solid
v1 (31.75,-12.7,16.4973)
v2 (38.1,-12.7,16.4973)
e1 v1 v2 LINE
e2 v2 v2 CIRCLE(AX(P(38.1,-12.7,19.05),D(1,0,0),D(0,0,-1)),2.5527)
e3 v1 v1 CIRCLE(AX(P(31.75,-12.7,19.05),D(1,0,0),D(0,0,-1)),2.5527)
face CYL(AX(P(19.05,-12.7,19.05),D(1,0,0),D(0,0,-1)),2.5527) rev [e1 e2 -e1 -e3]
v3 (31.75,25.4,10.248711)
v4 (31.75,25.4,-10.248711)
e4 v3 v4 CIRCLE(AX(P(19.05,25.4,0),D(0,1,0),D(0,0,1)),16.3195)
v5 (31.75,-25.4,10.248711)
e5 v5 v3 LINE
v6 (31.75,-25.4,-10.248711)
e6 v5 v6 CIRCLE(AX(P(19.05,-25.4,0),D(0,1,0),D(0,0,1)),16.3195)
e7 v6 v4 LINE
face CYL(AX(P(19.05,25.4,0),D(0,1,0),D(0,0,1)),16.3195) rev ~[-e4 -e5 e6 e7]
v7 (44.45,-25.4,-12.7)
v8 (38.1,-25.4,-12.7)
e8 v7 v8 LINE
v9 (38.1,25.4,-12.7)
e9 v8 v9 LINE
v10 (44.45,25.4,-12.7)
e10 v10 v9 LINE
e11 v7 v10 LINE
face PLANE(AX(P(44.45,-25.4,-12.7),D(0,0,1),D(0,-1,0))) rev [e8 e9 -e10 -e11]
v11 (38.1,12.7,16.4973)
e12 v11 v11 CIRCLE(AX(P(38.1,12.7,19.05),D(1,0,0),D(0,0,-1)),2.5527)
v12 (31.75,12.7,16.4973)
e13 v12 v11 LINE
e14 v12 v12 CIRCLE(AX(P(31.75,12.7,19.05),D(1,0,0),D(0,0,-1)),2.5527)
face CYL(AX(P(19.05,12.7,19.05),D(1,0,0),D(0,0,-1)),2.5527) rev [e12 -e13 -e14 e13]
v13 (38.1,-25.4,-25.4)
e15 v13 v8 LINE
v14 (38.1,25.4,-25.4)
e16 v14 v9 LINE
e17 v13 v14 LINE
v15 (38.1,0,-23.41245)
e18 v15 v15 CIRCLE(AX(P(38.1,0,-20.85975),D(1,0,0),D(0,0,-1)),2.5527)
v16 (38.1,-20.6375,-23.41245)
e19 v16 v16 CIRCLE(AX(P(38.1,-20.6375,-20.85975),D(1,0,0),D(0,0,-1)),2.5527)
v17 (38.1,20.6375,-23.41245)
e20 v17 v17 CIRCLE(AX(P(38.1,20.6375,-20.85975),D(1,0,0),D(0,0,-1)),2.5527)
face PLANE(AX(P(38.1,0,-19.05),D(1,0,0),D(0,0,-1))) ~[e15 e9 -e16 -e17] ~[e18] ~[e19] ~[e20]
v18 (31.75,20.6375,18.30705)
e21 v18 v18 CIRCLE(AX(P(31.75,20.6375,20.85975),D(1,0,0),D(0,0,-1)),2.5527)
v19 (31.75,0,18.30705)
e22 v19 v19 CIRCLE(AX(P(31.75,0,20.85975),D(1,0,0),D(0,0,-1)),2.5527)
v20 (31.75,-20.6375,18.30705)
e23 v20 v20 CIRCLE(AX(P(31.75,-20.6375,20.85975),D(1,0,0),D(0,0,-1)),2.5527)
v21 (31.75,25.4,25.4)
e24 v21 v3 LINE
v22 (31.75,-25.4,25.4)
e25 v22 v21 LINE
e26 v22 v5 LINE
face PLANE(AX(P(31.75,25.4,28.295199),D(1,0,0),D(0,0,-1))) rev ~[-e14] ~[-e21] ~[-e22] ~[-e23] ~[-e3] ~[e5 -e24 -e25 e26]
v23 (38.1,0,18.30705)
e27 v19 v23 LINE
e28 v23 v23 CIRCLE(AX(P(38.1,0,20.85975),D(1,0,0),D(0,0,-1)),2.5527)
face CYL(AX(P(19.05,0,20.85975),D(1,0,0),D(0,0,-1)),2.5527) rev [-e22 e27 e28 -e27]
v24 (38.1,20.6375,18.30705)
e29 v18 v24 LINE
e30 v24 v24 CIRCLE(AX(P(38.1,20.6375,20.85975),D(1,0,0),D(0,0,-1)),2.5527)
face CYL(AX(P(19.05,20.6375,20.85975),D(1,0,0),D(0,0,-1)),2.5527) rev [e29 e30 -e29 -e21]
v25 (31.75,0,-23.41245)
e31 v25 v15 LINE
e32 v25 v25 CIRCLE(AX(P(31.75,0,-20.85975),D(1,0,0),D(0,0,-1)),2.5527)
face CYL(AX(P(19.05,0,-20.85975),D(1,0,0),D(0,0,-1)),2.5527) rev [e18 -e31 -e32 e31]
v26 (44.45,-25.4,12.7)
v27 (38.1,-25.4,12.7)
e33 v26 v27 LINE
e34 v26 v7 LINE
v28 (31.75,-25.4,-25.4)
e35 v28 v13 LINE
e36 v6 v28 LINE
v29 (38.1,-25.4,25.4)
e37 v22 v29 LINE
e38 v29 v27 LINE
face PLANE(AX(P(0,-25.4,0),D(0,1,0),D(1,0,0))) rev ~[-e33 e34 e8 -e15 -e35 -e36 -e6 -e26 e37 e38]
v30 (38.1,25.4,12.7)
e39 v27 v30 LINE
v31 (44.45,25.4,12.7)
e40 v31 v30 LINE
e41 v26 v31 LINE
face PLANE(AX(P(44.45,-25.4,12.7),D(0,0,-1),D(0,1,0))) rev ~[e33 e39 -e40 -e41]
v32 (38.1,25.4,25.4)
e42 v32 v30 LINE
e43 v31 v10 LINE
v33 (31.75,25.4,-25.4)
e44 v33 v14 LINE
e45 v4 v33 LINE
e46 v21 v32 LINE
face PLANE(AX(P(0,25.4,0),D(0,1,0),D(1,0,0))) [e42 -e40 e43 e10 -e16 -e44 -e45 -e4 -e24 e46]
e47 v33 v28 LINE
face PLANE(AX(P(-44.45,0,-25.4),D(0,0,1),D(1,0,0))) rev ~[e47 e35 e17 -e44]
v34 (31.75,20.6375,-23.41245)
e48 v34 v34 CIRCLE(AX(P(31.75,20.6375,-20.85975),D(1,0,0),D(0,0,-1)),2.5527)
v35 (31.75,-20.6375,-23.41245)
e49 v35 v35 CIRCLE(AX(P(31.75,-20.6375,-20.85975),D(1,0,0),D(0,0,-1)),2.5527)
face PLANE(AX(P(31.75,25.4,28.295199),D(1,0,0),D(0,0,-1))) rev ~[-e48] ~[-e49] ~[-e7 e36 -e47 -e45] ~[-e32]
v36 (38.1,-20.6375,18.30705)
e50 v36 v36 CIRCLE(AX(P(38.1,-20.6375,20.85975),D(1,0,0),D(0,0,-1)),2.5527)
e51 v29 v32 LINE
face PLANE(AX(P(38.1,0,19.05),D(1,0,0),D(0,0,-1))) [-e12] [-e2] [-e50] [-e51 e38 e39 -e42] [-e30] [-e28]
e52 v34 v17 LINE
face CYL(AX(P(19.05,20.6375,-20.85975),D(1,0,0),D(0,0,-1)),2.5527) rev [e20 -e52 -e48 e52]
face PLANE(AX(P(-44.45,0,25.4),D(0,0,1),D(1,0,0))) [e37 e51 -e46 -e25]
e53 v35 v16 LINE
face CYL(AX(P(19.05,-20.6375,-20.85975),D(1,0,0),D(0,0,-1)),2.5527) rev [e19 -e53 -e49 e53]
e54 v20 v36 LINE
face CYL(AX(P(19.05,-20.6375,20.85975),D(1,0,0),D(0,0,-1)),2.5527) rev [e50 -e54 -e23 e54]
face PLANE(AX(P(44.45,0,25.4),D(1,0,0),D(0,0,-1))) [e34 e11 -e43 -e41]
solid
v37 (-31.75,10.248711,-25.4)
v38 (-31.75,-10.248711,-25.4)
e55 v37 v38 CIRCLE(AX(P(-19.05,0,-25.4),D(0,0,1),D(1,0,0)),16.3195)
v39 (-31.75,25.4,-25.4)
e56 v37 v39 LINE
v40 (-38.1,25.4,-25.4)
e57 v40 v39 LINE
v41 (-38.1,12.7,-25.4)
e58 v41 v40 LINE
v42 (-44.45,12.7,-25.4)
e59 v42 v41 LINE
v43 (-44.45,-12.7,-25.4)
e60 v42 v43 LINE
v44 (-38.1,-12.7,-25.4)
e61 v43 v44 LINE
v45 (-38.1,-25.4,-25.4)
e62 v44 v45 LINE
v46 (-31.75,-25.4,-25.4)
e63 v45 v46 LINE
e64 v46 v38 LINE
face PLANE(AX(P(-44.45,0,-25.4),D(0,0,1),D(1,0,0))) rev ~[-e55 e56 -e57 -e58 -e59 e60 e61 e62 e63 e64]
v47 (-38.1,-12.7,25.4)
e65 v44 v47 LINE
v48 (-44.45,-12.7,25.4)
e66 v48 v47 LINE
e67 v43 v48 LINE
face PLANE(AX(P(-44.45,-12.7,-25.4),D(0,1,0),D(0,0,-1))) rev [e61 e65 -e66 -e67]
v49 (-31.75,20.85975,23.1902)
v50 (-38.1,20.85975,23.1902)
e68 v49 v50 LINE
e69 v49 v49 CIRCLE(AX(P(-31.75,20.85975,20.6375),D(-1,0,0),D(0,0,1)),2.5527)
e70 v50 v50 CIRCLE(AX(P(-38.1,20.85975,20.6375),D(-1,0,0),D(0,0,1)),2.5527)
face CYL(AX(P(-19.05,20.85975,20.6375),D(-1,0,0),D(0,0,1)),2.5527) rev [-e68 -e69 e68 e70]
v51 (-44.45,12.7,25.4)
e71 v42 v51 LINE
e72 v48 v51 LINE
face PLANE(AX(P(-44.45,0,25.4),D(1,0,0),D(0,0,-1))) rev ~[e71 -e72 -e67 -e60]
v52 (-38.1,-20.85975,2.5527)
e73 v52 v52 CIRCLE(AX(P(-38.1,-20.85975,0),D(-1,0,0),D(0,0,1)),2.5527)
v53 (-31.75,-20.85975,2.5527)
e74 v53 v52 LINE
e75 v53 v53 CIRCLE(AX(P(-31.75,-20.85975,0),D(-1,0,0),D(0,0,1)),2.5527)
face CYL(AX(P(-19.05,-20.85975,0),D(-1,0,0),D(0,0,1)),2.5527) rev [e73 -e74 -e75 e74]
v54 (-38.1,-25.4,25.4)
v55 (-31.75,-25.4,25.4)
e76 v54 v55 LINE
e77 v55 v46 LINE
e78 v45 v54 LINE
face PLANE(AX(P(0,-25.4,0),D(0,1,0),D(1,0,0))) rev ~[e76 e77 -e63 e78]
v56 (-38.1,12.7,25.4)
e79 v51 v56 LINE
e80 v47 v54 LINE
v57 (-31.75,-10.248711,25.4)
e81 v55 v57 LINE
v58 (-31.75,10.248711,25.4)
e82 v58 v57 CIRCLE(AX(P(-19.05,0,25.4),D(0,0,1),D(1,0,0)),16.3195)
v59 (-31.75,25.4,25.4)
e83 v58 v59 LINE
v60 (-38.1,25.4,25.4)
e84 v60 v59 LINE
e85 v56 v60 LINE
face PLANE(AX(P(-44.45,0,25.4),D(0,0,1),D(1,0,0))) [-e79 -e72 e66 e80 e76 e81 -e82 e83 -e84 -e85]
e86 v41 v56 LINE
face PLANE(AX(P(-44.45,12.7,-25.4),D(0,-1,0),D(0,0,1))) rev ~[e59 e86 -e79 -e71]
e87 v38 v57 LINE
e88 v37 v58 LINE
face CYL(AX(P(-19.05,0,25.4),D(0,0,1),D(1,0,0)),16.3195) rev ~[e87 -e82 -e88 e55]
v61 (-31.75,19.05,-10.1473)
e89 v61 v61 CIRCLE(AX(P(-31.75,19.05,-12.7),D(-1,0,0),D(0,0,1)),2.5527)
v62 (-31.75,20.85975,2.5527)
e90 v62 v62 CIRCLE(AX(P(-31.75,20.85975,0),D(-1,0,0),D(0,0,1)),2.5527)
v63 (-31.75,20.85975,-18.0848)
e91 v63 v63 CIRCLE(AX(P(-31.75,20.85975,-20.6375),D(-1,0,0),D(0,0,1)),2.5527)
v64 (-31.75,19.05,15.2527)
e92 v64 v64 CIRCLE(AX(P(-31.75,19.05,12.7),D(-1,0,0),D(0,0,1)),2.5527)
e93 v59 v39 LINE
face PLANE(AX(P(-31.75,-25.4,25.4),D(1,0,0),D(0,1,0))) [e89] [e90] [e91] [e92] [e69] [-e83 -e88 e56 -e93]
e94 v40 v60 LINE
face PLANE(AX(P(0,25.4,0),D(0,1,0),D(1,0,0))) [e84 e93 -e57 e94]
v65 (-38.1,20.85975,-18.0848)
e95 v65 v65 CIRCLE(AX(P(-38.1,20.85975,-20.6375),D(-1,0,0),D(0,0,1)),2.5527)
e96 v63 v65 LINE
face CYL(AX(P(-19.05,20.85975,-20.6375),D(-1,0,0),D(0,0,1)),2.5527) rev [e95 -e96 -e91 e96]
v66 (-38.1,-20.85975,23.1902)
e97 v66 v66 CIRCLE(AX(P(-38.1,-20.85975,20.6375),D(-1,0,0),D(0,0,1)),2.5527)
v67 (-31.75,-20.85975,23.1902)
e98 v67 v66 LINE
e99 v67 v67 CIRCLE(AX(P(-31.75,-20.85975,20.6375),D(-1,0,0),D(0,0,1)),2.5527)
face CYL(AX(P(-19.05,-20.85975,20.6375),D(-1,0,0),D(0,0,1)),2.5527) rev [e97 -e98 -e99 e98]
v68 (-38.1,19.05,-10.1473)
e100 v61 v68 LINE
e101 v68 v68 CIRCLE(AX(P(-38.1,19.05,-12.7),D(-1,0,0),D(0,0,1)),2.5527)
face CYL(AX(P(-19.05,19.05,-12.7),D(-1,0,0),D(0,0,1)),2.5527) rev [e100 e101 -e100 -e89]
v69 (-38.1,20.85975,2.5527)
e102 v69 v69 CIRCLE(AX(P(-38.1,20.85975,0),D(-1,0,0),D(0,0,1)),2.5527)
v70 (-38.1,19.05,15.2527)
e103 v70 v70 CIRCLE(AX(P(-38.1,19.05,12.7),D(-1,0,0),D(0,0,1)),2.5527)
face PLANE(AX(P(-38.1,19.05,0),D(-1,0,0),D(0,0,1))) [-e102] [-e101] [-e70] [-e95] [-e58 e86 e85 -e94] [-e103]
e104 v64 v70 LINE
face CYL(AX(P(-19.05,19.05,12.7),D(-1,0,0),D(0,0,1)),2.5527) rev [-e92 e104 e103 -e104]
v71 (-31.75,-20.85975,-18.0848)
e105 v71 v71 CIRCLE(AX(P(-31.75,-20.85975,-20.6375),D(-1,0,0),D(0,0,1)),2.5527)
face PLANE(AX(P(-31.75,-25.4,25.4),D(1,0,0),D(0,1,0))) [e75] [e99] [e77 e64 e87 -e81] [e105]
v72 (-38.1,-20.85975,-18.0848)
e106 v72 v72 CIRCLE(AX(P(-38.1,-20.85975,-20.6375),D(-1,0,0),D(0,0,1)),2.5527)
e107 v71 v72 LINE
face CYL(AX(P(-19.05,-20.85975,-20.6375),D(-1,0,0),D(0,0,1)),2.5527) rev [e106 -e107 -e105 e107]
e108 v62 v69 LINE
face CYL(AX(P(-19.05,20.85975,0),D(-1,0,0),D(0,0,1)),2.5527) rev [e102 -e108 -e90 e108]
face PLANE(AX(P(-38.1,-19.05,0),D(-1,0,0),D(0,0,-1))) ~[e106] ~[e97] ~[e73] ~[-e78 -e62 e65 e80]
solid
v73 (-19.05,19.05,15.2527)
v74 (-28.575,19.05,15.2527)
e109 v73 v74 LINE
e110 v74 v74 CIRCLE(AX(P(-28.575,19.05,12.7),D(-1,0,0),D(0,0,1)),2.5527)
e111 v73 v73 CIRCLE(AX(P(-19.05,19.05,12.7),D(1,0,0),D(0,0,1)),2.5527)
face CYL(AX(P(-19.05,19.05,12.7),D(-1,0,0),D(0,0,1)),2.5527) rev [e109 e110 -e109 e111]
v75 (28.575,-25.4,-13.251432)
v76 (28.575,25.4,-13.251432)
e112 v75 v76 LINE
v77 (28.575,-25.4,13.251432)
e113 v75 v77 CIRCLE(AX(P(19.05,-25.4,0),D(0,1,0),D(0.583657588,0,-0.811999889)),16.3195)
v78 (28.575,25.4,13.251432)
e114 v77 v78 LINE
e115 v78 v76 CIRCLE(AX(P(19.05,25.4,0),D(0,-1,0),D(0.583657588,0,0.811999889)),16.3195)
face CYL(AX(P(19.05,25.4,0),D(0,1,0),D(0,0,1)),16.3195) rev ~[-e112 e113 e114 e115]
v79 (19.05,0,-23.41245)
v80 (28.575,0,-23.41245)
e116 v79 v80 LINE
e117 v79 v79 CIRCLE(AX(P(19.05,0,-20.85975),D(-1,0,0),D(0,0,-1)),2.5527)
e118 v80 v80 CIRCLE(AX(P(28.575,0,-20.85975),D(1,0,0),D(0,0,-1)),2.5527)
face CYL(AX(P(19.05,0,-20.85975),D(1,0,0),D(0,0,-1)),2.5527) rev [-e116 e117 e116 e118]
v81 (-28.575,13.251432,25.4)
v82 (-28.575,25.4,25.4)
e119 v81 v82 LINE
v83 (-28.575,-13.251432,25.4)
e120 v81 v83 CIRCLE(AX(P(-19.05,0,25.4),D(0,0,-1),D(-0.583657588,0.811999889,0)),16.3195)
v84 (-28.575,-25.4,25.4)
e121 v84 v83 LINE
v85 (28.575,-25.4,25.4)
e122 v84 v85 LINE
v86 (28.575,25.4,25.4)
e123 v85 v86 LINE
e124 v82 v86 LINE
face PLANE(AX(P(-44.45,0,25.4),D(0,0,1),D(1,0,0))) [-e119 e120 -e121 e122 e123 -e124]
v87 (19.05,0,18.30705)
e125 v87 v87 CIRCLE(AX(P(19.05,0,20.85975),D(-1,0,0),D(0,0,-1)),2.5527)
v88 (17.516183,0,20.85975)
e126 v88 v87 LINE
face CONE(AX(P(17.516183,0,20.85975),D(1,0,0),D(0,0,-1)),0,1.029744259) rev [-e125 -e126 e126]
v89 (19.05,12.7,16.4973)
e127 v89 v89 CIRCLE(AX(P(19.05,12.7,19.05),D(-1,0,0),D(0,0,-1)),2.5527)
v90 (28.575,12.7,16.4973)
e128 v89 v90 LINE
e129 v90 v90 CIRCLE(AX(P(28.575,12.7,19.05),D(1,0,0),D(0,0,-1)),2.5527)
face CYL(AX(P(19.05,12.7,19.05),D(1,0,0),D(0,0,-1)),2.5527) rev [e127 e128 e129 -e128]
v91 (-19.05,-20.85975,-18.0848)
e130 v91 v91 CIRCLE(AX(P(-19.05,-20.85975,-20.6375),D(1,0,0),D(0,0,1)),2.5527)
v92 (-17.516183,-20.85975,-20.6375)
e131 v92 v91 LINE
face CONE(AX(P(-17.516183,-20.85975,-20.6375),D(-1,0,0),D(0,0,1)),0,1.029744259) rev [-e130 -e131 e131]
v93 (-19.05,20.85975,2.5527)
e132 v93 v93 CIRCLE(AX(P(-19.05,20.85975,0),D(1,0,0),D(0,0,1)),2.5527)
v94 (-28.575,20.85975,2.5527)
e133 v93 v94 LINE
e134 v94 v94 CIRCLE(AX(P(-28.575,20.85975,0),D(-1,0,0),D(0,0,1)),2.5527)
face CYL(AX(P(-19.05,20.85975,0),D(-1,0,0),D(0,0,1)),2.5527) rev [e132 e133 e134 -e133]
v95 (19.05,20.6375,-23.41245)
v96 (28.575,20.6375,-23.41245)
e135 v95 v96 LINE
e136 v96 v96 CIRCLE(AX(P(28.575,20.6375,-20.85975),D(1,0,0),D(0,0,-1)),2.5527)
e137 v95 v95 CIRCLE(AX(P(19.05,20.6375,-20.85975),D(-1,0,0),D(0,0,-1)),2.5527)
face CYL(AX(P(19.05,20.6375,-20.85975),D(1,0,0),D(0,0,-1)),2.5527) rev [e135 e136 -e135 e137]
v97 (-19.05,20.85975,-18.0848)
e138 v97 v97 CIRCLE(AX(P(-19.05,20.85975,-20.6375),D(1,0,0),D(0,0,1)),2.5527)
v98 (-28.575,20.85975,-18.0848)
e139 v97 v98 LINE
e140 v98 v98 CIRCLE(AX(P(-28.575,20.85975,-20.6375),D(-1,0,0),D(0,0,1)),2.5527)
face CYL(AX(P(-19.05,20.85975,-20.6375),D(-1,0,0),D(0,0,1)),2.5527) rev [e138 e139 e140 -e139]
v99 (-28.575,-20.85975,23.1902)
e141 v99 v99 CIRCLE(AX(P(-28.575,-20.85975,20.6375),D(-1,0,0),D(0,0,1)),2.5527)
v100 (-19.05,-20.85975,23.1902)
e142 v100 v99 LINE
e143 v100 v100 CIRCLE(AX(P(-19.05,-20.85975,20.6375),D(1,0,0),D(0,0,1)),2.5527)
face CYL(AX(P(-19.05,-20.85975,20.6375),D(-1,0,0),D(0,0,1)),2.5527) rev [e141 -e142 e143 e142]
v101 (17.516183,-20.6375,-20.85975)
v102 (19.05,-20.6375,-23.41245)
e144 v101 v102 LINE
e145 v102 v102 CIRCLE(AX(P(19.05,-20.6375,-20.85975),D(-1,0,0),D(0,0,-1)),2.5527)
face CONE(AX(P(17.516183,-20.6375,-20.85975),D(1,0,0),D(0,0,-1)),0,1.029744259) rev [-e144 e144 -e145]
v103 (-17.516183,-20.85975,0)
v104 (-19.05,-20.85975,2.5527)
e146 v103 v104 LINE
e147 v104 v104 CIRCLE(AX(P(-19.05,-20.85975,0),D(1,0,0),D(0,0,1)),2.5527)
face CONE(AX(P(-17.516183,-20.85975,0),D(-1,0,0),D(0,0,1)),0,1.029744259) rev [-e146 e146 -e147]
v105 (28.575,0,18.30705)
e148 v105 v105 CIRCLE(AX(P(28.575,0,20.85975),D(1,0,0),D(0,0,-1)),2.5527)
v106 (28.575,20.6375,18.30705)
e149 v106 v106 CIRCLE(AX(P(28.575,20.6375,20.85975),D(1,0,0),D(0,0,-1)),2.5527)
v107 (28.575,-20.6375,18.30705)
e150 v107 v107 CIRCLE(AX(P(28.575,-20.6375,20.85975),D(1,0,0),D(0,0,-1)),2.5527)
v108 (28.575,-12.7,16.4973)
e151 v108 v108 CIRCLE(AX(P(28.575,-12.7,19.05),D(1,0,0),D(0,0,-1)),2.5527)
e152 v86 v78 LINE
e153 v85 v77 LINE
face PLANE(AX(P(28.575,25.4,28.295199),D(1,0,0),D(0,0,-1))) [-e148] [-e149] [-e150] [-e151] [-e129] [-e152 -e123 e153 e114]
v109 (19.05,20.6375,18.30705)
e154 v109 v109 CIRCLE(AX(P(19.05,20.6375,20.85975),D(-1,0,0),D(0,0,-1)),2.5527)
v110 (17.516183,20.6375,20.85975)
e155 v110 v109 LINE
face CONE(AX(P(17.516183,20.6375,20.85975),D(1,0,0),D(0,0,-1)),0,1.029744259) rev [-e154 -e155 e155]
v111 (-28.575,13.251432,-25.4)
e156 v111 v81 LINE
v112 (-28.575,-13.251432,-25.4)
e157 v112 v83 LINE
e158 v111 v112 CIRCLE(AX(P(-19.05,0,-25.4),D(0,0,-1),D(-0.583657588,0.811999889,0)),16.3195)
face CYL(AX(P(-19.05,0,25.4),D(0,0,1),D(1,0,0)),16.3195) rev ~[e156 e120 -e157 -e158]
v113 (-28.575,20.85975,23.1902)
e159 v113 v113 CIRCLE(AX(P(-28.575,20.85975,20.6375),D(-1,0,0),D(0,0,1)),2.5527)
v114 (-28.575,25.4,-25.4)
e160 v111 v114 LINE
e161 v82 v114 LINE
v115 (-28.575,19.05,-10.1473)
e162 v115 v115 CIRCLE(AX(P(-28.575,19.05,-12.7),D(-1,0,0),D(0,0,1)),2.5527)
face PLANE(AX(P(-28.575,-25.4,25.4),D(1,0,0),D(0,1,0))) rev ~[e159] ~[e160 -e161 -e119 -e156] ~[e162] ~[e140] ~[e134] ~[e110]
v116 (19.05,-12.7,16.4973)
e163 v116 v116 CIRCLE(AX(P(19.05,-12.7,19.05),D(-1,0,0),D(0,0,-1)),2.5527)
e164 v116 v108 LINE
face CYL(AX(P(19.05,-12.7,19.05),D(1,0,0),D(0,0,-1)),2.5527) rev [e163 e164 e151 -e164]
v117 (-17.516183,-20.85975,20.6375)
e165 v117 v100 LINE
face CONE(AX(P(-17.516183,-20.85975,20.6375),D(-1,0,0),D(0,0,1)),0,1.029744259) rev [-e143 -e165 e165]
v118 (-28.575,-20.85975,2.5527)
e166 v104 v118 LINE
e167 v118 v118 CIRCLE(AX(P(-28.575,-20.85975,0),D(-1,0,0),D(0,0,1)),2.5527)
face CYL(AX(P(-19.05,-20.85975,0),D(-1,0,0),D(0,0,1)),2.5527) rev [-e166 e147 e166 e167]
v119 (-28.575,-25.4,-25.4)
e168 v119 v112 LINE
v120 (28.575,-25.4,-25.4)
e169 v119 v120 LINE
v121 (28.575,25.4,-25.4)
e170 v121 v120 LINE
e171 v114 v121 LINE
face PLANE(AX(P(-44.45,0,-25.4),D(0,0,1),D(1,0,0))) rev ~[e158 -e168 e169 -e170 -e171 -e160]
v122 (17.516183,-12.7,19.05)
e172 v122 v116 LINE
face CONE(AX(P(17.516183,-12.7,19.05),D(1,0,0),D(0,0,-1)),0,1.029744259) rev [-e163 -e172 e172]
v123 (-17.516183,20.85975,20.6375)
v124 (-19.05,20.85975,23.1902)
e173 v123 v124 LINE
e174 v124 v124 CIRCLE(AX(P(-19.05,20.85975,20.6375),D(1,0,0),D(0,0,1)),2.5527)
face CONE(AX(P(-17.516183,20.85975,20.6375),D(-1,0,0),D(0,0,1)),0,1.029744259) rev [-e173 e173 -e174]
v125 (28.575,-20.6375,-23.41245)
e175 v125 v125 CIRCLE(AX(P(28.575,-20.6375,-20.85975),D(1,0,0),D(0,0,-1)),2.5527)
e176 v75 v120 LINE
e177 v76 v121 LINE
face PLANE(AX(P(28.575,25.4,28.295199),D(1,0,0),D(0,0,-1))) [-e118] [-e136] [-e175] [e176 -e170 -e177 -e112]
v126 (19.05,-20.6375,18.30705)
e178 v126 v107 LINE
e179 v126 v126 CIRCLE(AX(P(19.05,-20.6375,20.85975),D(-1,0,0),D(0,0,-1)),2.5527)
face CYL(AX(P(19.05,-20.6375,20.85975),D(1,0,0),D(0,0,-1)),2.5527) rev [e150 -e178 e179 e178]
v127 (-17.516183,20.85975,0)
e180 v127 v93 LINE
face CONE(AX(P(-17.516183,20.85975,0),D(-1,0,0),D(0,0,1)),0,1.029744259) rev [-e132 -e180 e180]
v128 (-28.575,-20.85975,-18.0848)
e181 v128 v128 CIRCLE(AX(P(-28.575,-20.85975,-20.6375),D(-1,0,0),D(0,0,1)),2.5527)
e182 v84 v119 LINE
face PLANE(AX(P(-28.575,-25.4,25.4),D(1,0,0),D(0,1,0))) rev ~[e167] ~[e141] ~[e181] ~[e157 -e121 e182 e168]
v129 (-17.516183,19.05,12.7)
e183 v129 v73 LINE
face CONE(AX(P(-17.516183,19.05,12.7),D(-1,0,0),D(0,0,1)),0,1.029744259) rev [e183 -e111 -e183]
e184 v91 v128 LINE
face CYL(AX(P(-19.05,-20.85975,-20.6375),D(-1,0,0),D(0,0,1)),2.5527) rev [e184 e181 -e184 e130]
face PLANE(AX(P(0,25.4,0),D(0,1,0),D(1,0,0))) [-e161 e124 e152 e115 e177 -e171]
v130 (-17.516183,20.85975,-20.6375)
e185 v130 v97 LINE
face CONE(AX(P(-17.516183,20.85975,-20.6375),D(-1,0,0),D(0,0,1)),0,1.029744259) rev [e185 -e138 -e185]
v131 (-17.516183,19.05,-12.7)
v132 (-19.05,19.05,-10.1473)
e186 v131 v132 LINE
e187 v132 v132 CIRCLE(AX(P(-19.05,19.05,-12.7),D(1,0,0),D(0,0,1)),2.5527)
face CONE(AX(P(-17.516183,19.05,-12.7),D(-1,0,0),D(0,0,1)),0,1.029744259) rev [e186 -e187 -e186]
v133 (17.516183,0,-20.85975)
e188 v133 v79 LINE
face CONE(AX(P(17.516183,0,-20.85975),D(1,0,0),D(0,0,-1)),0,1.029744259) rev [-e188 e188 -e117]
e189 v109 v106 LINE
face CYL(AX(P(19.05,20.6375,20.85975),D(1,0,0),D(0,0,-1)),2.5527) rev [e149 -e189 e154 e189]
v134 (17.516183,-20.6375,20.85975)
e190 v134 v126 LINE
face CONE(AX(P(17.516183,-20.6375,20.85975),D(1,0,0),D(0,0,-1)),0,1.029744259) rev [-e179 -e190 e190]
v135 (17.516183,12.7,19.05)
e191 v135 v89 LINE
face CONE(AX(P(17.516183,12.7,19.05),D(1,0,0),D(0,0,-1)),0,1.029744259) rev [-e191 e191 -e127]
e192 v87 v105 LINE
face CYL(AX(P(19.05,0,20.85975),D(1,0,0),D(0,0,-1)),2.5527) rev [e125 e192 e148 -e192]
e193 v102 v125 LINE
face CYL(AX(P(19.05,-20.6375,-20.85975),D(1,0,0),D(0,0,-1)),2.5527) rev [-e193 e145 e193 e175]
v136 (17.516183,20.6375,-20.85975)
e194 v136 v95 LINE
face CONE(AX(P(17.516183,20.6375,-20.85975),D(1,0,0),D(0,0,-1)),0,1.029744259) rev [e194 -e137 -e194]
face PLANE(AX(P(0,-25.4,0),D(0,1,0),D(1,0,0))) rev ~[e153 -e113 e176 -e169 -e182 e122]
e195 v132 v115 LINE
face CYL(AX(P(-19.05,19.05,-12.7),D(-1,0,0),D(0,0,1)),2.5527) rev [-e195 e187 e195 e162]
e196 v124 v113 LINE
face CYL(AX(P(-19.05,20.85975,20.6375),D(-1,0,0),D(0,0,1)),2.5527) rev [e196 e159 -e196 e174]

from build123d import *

# Parameters (mm, degrees)
SKETCH1_W                        = 88.9
SKETCH1_H                        = 50.8
BOSS_EXTRUDE1_DEPTH              = 25.4
CUT_EXTRUDE1_REACH               = 74.122
SKETCH2_R                        = 16.3195
SKETCH3_W                        = 3.175
SKETCH3_H                        = 53.695199427
CUT_EXTRUDE4_DEPTH               = 50.8
F_1_4_20_TAPPED_HOLE1_AT_2_COUNT = 2
F_1_4_20_TAPPED_HOLE1_AT_2_PITCH = 41.275
F_1_4_20_TAPPED_HOLE1_AT_3_COUNT = 2
F_1_4_20_TAPPED_HOLE1_AT_3_PITCH = 20.6375
SKETCH7_R                        = 16.3195
CUT_EXTRUDE5_DEPTH               = 50.8
SKETCH8_W                        = 3.175
SKETCH8_H                        = 56.745553367
CUT_EXTRUDE6_DEPTH               = 50.8
F_1_4_20_TAPPED_HOLE2_AT_2_COUNT = 2
F_1_4_20_TAPPED_HOLE2_AT_2_PITCH = 41.275
F_1_4_20_TAPPED_HOLE2_AT_3_COUNT = 2
F_1_4_20_TAPPED_HOLE2_AT_3_PITCH = 20.6375
F_1_4_20_TAPPED_HOLE4_AT_2_COUNT = 2
F_1_4_20_TAPPED_HOLE4_AT_2_PITCH = 25.4
F_1_4_20_TAPPED_HOLE4_AT_3_COUNT = 2
F_1_4_20_TAPPED_HOLE4_AT_3_PITCH = 12.828296655
F_1_4_20_TAPPED_HOLE4_AT_4_COUNT = 2
F_1_4_20_TAPPED_HOLE4_AT_4_PITCH = 8.141197781
F_1_4_20_TAPPED_HOLE4_AT_5_COUNT = 2
F_1_4_20_TAPPED_HOLE4_AT_5_PITCH = 33.386585649
F_1_4_20_TAPPED_HOLE5_AT_2_COUNT = 2
F_1_4_20_TAPPED_HOLE5_AT_2_PITCH = 12.828296655
F_1_4_20_TAPPED_HOLE5_AT_3_COUNT = 2
F_1_4_20_TAPPED_HOLE5_AT_3_PITCH = 20.6375
F_1_4_20_TAPPED_HOLE5_AT_4_COUNT = 2
F_1_4_20_TAPPED_HOLE5_AT_4_PITCH = 12.828296655
F_1_4_20_TAPPED_HOLE5_AT_5_COUNT = 2
F_1_4_20_TAPPED_HOLE5_AT_5_PITCH = 20.6375
SKETCH29_W                       = 50.8
SKETCH29_H                       = 12.7
CUT_EXTRUDE7_DEPTH               = 6.35
SKETCH30_W                       = 12.7
SKETCH30_H                       = 50.8
CUT_EXTRUDE8_DEPTH               = 6.35


with BuildPart() as part:
    # Sketch1 → Boss-Extrude1 (new, symmetric)
    with BuildSketch(Plane(origin=(0, 0, 0), x_dir=(1, 0, 0), z_dir=(0, 1, 0))):
        Rectangle(SKETCH1_W, SKETCH1_H)
    extrude(amount=BOSS_EXTRUDE1_DEPTH, both=True)

    # Sketch2 → Cut-Extrude1 (cut, up to next)
    with BuildSketch(Plane(origin=(0, 25.4, 0), x_dir=(1, 0, 0), z_dir=(0, 1, 0)), mode=Mode.PRIVATE) as cut_extrude1_sk1:
        with Locations(Location((19.05, 0, 0), (0, 0, 270))):
            Circle(SKETCH2_R)
    cut_extrude1_tool1 = extrude(cut_extrude1_sk1.sketch, amount=-CUT_EXTRUDE1_REACH, mode=Mode.PRIVATE) & part.part
    add(cut_extrude1_tool1.solids().sort_by_distance((19.05, 25.4, 0))[0], mode=Mode.SUBTRACT)

    # Sketch3 → Cut-Extrude4 (cut)
    with BuildSketch(Plane(origin=(0, 25.4, 0), x_dir=(1, 0, 0), z_dir=(0, 1, 0))):
        with Locations((30.1625, -1.447599713)):
            Rectangle(SKETCH3_W, SKETCH3_H)
    extrude(amount=-CUT_EXTRUDE4_DEPTH, mode=Mode.SUBTRACT)


with BuildPart() as cut_extrude4_piece_1:
    # of the separate pieces the step leaves, piece 1, a body of its own (cut_extrude4_pieces)
    add(part.part.solids().sort_by_distance((-44.45, 25.4, 25.4))[0])


with BuildPart() as cut_extrude4_piece_2:
    # of the separate pieces the step leaves, piece 2, a body of its own (cut_extrude4_pieces)
    add(part.part.solids().sort_by_distance((31.75, -25.4, 25.4))[0])


with BuildPart() as f_1_4_20_tapped_hole1_tool:
    # Sketch6 → 1/4-20 Tapped Hole1 (revolve)
    with BuildSketch(Plane(origin=(44.45, 20.6375, -20.85975), x_dir=(0, 0, -1), z_dir=(0, 1, 0))):
        Polygon((0, 0), (0, 26.933816902), (2.5527, 25.4), (2.5527, 0), align=None)
    f_1_4_20_tapped_hole1 = revolve(axis=Axis((50.8, 20.6375, -20.85975), (-1, 0, 0)))


with BuildPart() as cut_extrude4_piece_1_1:
    add(cut_extrude4_piece_1.part)

    # 1/4-20 Tapped Hole1: cut by f_1_4_20_tapped_hole1_tool
    add(f_1_4_20_tapped_hole1_tool.part, mode=Mode.SUBTRACT)


with BuildPart() as cut_extrude4_piece_2_1:
    add(cut_extrude4_piece_2.part)

    # 1/4-20 Tapped Hole1: cut by f_1_4_20_tapped_hole1_tool
    add(f_1_4_20_tapped_hole1_tool.part, mode=Mode.SUBTRACT)


with BuildPart() as f_1_4_20_tapped_hole1_at_2_tool:
    # 1/4-20 Tapped Hole1 at 2: 1/4-20 Tapped Hole1 ×2
    with Locations(*[(0, -i * F_1_4_20_TAPPED_HOLE1_AT_2_PITCH, 0) for i in range(1, F_1_4_20_TAPPED_HOLE1_AT_2_COUNT)]):
        add(f_1_4_20_tapped_hole1)


with BuildPart() as cut_extrude4_piece_1_2:
    add(cut_extrude4_piece_1_1.part)

    # 1/4-20 Tapped Hole1 at 2: cut by f_1_4_20_tapped_hole1_at_2_tool
    add(f_1_4_20_tapped_hole1_at_2_tool.part, mode=Mode.SUBTRACT)


with BuildPart() as cut_extrude4_piece_2_2:
    add(cut_extrude4_piece_2_1.part)

    # 1/4-20 Tapped Hole1 at 2: cut by f_1_4_20_tapped_hole1_at_2_tool
    add(f_1_4_20_tapped_hole1_at_2_tool.part, mode=Mode.SUBTRACT)


with BuildPart() as f_1_4_20_tapped_hole1_at_3_tool:
    # 1/4-20 Tapped Hole1 at 3: 1/4-20 Tapped Hole1 ×2
    with Locations(*[(0, -i * F_1_4_20_TAPPED_HOLE1_AT_3_PITCH, 0) for i in range(1, F_1_4_20_TAPPED_HOLE1_AT_3_COUNT)]):
        add(f_1_4_20_tapped_hole1)


with BuildPart() as cut_extrude4_piece_1_3:
    add(cut_extrude4_piece_1_2.part)

    # 1/4-20 Tapped Hole1 at 3: cut by f_1_4_20_tapped_hole1_at_3_tool
    add(f_1_4_20_tapped_hole1_at_3_tool.part, mode=Mode.SUBTRACT)

    # Sketch7 → Cut-Extrude5 (cut)
    with BuildSketch(Plane.XY.offset(25.4)):
        with Locations((-19.05, 0)):
            Circle(SKETCH7_R)
    extrude(amount=-CUT_EXTRUDE5_DEPTH, mode=Mode.SUBTRACT)

    # Sketch8 → Cut-Extrude6 (cut)
    with BuildSketch(Plane.XY.offset(25.4)):
        with Locations((-30.1625, 2.972776683)):
            Rectangle(SKETCH8_W, SKETCH8_H)
    extrude(amount=-CUT_EXTRUDE6_DEPTH, mode=Mode.SUBTRACT)


with BuildPart() as cut_extrude4_piece_2_3:
    add(cut_extrude4_piece_2_2.part)

    # 1/4-20 Tapped Hole1 at 3: cut by f_1_4_20_tapped_hole1_at_3_tool
    add(f_1_4_20_tapped_hole1_at_3_tool.part, mode=Mode.SUBTRACT)


with BuildPart() as cut_extrude6_piece_1:
    # of the separate pieces the step leaves, piece 1, a body of its own (cut_extrude6_pieces)
    add(cut_extrude4_piece_1_3.part.solids().sort_by_distance((-28.575, 25.4, 25.4))[0])


with BuildPart() as cut_extrude6_piece_2:
    # of the separate pieces the step leaves, piece 2, a body of its own (cut_extrude6_pieces)
    add(cut_extrude4_piece_1_3.part.solids().sort_by_distance((-44.45, 25.4, 25.4))[0])


with BuildPart() as f_1_4_20_tapped_hole2_tool:
    # Sketch11 → 1/4-20 Tapped Hole2 (revolve)
    with BuildSketch(Plane(origin=(-44.45, -20.85975, -20.6375), x_dir=(0, 0, 1), z_dir=(0, 1, 0))):
        Polygon((0, 0), (0, 26.933816902), (2.5527, 25.4), (2.5527, 0), align=None)
    f_1_4_20_tapped_hole2 = revolve(axis=Axis((-50.8, -20.85975, -20.6375), (1, 0, 0)))


with BuildPart() as cut_extrude6_piece_1_1:
    add(cut_extrude6_piece_1.part)

    # 1/4-20 Tapped Hole2: cut by f_1_4_20_tapped_hole2_tool
    add(f_1_4_20_tapped_hole2_tool.part, mode=Mode.SUBTRACT)


with BuildPart() as cut_extrude6_piece_2_1:
    add(cut_extrude6_piece_2.part)

    # 1/4-20 Tapped Hole2: cut by f_1_4_20_tapped_hole2_tool
    add(f_1_4_20_tapped_hole2_tool.part, mode=Mode.SUBTRACT)


with BuildPart() as f_1_4_20_tapped_hole2_at_2_tool:
    # 1/4-20 Tapped Hole2 at 2: 1/4-20 Tapped Hole2 ×2
    with Locations(*[(0, 0, i * F_1_4_20_TAPPED_HOLE2_AT_2_PITCH) for i in range(1, F_1_4_20_TAPPED_HOLE2_AT_2_COUNT)]):
        add(f_1_4_20_tapped_hole2)


with BuildPart() as cut_extrude6_piece_1_2:
    add(cut_extrude6_piece_1_1.part)

    # 1/4-20 Tapped Hole2 at 2: cut by f_1_4_20_tapped_hole2_at_2_tool
    add(f_1_4_20_tapped_hole2_at_2_tool.part, mode=Mode.SUBTRACT)


with BuildPart() as cut_extrude6_piece_2_2:
    add(cut_extrude6_piece_2_1.part)

    # 1/4-20 Tapped Hole2 at 2: cut by f_1_4_20_tapped_hole2_at_2_tool
    add(f_1_4_20_tapped_hole2_at_2_tool.part, mode=Mode.SUBTRACT)


with BuildPart() as f_1_4_20_tapped_hole2_at_3_tool:
    # 1/4-20 Tapped Hole2 at 3: 1/4-20 Tapped Hole2 ×2
    with Locations(*[(0, 0, i * F_1_4_20_TAPPED_HOLE2_AT_3_PITCH) for i in range(1, F_1_4_20_TAPPED_HOLE2_AT_3_COUNT)]):
        add(f_1_4_20_tapped_hole2)


with BuildPart() as cut_extrude6_piece_1_3:
    add(cut_extrude6_piece_1_2.part)

    # 1/4-20 Tapped Hole2 at 3: cut by f_1_4_20_tapped_hole2_at_3_tool
    add(f_1_4_20_tapped_hole2_at_3_tool.part, mode=Mode.SUBTRACT)


with BuildPart() as cut_extrude6_piece_2_3:
    add(cut_extrude6_piece_2_2.part)

    # 1/4-20 Tapped Hole2 at 3: cut by f_1_4_20_tapped_hole2_at_3_tool
    add(f_1_4_20_tapped_hole2_at_3_tool.part, mode=Mode.SUBTRACT)


with BuildPart() as f_1_4_20_tapped_hole4_tool:
    # Sketch22 → 1/4-20 Tapped Hole4 (revolve)
    with BuildSketch(Plane(origin=(44.45, 12.7, 19.05), x_dir=(0, 0, -1), z_dir=(0, 1, 0))):
        Polygon((0, 0), (0, 26.933816902), (2.5527, 25.4), (2.5527, 0), align=None)
    f_1_4_20_tapped_hole4 = revolve(axis=Axis((50.8, 12.7, 19.05), (-1, 0, 0)))


with BuildPart() as cut_extrude4_piece_2_4:
    add(cut_extrude4_piece_2_3.part)

    # 1/4-20 Tapped Hole4: cut by f_1_4_20_tapped_hole4_tool
    add(f_1_4_20_tapped_hole4_tool.part, mode=Mode.SUBTRACT)


with BuildPart() as cut_extrude6_piece_1_4:
    add(cut_extrude6_piece_1_3.part)

    # 1/4-20 Tapped Hole4: cut by f_1_4_20_tapped_hole4_tool
    add(f_1_4_20_tapped_hole4_tool.part, mode=Mode.SUBTRACT)


with BuildPart() as f_1_4_20_tapped_hole4_at_2_tool:
    # 1/4-20 Tapped Hole4 at 2: 1/4-20 Tapped Hole4 ×2
    with Locations(*[(0, -i * F_1_4_20_TAPPED_HOLE4_AT_2_PITCH, 0) for i in range(1, F_1_4_20_TAPPED_HOLE4_AT_2_COUNT)]):
        add(f_1_4_20_tapped_hole4)


with BuildPart() as cut_extrude4_piece_2_5:
    add(cut_extrude4_piece_2_4.part)

    # 1/4-20 Tapped Hole4 at 2: cut by f_1_4_20_tapped_hole4_at_2_tool
    add(f_1_4_20_tapped_hole4_at_2_tool.part, mode=Mode.SUBTRACT)


with BuildPart() as cut_extrude6_piece_1_5:
    add(cut_extrude6_piece_1_4.part)

    # 1/4-20 Tapped Hole4 at 2: cut by f_1_4_20_tapped_hole4_at_2_tool
    add(f_1_4_20_tapped_hole4_at_2_tool.part, mode=Mode.SUBTRACT)


with BuildPart() as f_1_4_20_tapped_hole4_at_3_tool:
    # 1/4-20 Tapped Hole4 at 3: 1/4-20 Tapped Hole4 ×2
    with Locations(*[Vector(0, -0.9899989329673501, 0.1410748479478475) * (i * F_1_4_20_TAPPED_HOLE4_AT_3_PITCH) for i in range(1, F_1_4_20_TAPPED_HOLE4_AT_3_COUNT)]):
        add(f_1_4_20_tapped_hole4)


with BuildPart() as cut_extrude4_piece_2_6:
    add(cut_extrude4_piece_2_5.part)

    # 1/4-20 Tapped Hole4 at 3: cut by f_1_4_20_tapped_hole4_at_3_tool
    add(f_1_4_20_tapped_hole4_at_3_tool.part, mode=Mode.SUBTRACT)


with BuildPart() as cut_extrude6_piece_1_6:
    add(cut_extrude6_piece_1_5.part)

    # 1/4-20 Tapped Hole4 at 3: cut by f_1_4_20_tapped_hole4_at_3_tool
    add(f_1_4_20_tapped_hole4_at_3_tool.part, mode=Mode.SUBTRACT)


with BuildPart() as f_1_4_20_tapped_hole4_at_4_tool:
    # 1/4-20 Tapped Hole4 at 4: 1/4-20 Tapped Hole4 ×2
    with Locations(*[Vector(0, 0.9749793842788765, 0.2222952996155853) * (i * F_1_4_20_TAPPED_HOLE4_AT_4_PITCH) for i in range(1, F_1_4_20_TAPPED_HOLE4_AT_4_COUNT)]):
        add(f_1_4_20_tapped_hole4)


with BuildPart() as cut_extrude4_piece_2_7:
    add(cut_extrude4_piece_2_6.part)

    # 1/4-20 Tapped Hole4 at 4: cut by f_1_4_20_tapped_hole4_at_4_tool
    add(f_1_4_20_tapped_hole4_at_4_tool.part, mode=Mode.SUBTRACT)


with BuildPart() as cut_extrude6_piece_1_7:
    add(cut_extrude6_piece_1_6.part)

    # 1/4-20 Tapped Hole4 at 4: cut by f_1_4_20_tapped_hole4_at_4_tool
    add(f_1_4_20_tapped_hole4_at_4_tool.part, mode=Mode.SUBTRACT)


with BuildPart() as f_1_4_20_tapped_hole4_at_5_tool:
    # 1/4-20 Tapped Hole4 at 5: 1/4-20 Tapped Hole4 ×2
    with Locations(*[Vector(0, -0.9985297793032001, 0.054205902305030786) * (i * F_1_4_20_TAPPED_HOLE4_AT_5_PITCH) for i in range(1, F_1_4_20_TAPPED_HOLE4_AT_5_COUNT)]):
        add(f_1_4_20_tapped_hole4)


with BuildPart() as cut_extrude4_piece_2_8:
    add(cut_extrude4_piece_2_7.part)

    # 1/4-20 Tapped Hole4 at 5: cut by f_1_4_20_tapped_hole4_at_5_tool
    add(f_1_4_20_tapped_hole4_at_5_tool.part, mode=Mode.SUBTRACT)

    # Sketch30 → Cut-Extrude8 (cut)
    with BuildSketch(Plane(origin=(44.45, 0, 0), x_dir=(0, 0, -1), z_dir=(1, 0, 0))):
        with Locations((-19.05, 0)):
            Rectangle(SKETCH30_W, SKETCH30_H)
    cut_extrude8 = extrude(amount=-CUT_EXTRUDE8_DEPTH, mode=Mode.SUBTRACT)

    # Mirror2: Cut-Extrude8 across plane
    add(cut_extrude8.mirror(Plane.XY), mode=Mode.SUBTRACT)


with BuildPart() as cut_extrude6_piece_1_8:
    add(cut_extrude6_piece_1_7.part)

    # 1/4-20 Tapped Hole4 at 5: cut by f_1_4_20_tapped_hole4_at_5_tool
    add(f_1_4_20_tapped_hole4_at_5_tool.part, mode=Mode.SUBTRACT)


with BuildPart() as f_1_4_20_tapped_hole5_tool:
    # Sketch28 → 1/4-20 Tapped Hole5 (revolve)
    with BuildSketch(Plane(origin=(-44.45, 20.85975, 0), x_dir=(0, 0, 1), z_dir=(0, 1, 0))):
        Polygon((0, 0), (0, 26.933816902), (2.5527, 25.4), (2.5527, 0), align=None)
    f_1_4_20_tapped_hole5 = revolve(axis=Axis((-50.8, 20.85975, 0), (1, 0, 0)))


with BuildPart() as cut_extrude6_piece_1_9:
    add(cut_extrude6_piece_1_8.part)

    # 1/4-20 Tapped Hole5: cut by f_1_4_20_tapped_hole5_tool
    add(f_1_4_20_tapped_hole5_tool.part, mode=Mode.SUBTRACT)


with BuildPart() as cut_extrude6_piece_2_4:
    add(cut_extrude6_piece_2_3.part)

    # 1/4-20 Tapped Hole5: cut by f_1_4_20_tapped_hole5_tool
    add(f_1_4_20_tapped_hole5_tool.part, mode=Mode.SUBTRACT)


with BuildPart() as f_1_4_20_tapped_hole5_at_2_tool:
    # 1/4-20 Tapped Hole5 at 2: 1/4-20 Tapped Hole5 ×2
    with Locations(*[Vector(0, -0.1410748479478475, -0.9899989329673501) * (i * F_1_4_20_TAPPED_HOLE5_AT_2_PITCH) for i in range(1, F_1_4_20_TAPPED_HOLE5_AT_2_COUNT)]):
        add(f_1_4_20_tapped_hole5)


with BuildPart() as cut_extrude6_piece_1_10:
    add(cut_extrude6_piece_1_9.part)

    # 1/4-20 Tapped Hole5 at 2: cut by f_1_4_20_tapped_hole5_at_2_tool
    add(f_1_4_20_tapped_hole5_at_2_tool.part, mode=Mode.SUBTRACT)


with BuildPart() as cut_extrude6_piece_2_5:
    add(cut_extrude6_piece_2_4.part)

    # 1/4-20 Tapped Hole5 at 2: cut by f_1_4_20_tapped_hole5_at_2_tool
    add(f_1_4_20_tapped_hole5_at_2_tool.part, mode=Mode.SUBTRACT)


with BuildPart() as f_1_4_20_tapped_hole5_at_3_tool:
    # 1/4-20 Tapped Hole5 at 3: 1/4-20 Tapped Hole5 ×2
    with Locations(*[(0, 0, -i * F_1_4_20_TAPPED_HOLE5_AT_3_PITCH) for i in range(1, F_1_4_20_TAPPED_HOLE5_AT_3_COUNT)]):
        add(f_1_4_20_tapped_hole5)


with BuildPart() as cut_extrude6_piece_1_11:
    add(cut_extrude6_piece_1_10.part)

    # 1/4-20 Tapped Hole5 at 3: cut by f_1_4_20_tapped_hole5_at_3_tool
    add(f_1_4_20_tapped_hole5_at_3_tool.part, mode=Mode.SUBTRACT)


with BuildPart() as cut_extrude6_piece_2_6:
    add(cut_extrude6_piece_2_5.part)

    # 1/4-20 Tapped Hole5 at 3: cut by f_1_4_20_tapped_hole5_at_3_tool
    add(f_1_4_20_tapped_hole5_at_3_tool.part, mode=Mode.SUBTRACT)


with BuildPart() as f_1_4_20_tapped_hole5_at_4_tool:
    # 1/4-20 Tapped Hole5 at 4: 1/4-20 Tapped Hole5 ×2
    with Locations(*[Vector(0, -0.1410748479478475, 0.9899989329673501) * (i * F_1_4_20_TAPPED_HOLE5_AT_4_PITCH) for i in range(1, F_1_4_20_TAPPED_HOLE5_AT_4_COUNT)]):
        add(f_1_4_20_tapped_hole5)


with BuildPart() as cut_extrude6_piece_1_12:
    add(cut_extrude6_piece_1_11.part)

    # 1/4-20 Tapped Hole5 at 4: cut by f_1_4_20_tapped_hole5_at_4_tool
    add(f_1_4_20_tapped_hole5_at_4_tool.part, mode=Mode.SUBTRACT)


with BuildPart() as cut_extrude6_piece_2_7:
    add(cut_extrude6_piece_2_6.part)

    # 1/4-20 Tapped Hole5 at 4: cut by f_1_4_20_tapped_hole5_at_4_tool
    add(f_1_4_20_tapped_hole5_at_4_tool.part, mode=Mode.SUBTRACT)


with BuildPart() as f_1_4_20_tapped_hole5_at_5_tool:
    # 1/4-20 Tapped Hole5 at 5: 1/4-20 Tapped Hole5 ×2
    with Locations(*[(0, 0, i * F_1_4_20_TAPPED_HOLE5_AT_5_PITCH) for i in range(1, F_1_4_20_TAPPED_HOLE5_AT_5_COUNT)]):
        add(f_1_4_20_tapped_hole5)


with BuildPart() as cut_extrude6_piece_1_13:
    add(cut_extrude6_piece_1_12.part)

    # 1/4-20 Tapped Hole5 at 5: cut by f_1_4_20_tapped_hole5_at_5_tool
    add(f_1_4_20_tapped_hole5_at_5_tool.part, mode=Mode.SUBTRACT)


with BuildPart() as cut_extrude6_piece_2_8:
    add(cut_extrude6_piece_2_7.part)

    # 1/4-20 Tapped Hole5 at 5: cut by f_1_4_20_tapped_hole5_at_5_tool
    add(f_1_4_20_tapped_hole5_at_5_tool.part, mode=Mode.SUBTRACT)

    # Sketch29 → Cut-Extrude7 (cut)
    with BuildSketch(Plane.ZY.offset(44.45)):
        with Locations((0, 19.05)):
            Rectangle(SKETCH29_W, SKETCH29_H)
    cut_extrude7 = extrude(amount=-CUT_EXTRUDE7_DEPTH, mode=Mode.SUBTRACT)

    # Mirror1: Cut-Extrude7 across plane
    add(cut_extrude7.mirror(Plane.ZX), mode=Mode.SUBTRACT)


solid = Compound([cut_extrude4_piece_2_8.part, cut_extrude6_piece_1_13.part, cut_extrude6_piece_2_8.part])
